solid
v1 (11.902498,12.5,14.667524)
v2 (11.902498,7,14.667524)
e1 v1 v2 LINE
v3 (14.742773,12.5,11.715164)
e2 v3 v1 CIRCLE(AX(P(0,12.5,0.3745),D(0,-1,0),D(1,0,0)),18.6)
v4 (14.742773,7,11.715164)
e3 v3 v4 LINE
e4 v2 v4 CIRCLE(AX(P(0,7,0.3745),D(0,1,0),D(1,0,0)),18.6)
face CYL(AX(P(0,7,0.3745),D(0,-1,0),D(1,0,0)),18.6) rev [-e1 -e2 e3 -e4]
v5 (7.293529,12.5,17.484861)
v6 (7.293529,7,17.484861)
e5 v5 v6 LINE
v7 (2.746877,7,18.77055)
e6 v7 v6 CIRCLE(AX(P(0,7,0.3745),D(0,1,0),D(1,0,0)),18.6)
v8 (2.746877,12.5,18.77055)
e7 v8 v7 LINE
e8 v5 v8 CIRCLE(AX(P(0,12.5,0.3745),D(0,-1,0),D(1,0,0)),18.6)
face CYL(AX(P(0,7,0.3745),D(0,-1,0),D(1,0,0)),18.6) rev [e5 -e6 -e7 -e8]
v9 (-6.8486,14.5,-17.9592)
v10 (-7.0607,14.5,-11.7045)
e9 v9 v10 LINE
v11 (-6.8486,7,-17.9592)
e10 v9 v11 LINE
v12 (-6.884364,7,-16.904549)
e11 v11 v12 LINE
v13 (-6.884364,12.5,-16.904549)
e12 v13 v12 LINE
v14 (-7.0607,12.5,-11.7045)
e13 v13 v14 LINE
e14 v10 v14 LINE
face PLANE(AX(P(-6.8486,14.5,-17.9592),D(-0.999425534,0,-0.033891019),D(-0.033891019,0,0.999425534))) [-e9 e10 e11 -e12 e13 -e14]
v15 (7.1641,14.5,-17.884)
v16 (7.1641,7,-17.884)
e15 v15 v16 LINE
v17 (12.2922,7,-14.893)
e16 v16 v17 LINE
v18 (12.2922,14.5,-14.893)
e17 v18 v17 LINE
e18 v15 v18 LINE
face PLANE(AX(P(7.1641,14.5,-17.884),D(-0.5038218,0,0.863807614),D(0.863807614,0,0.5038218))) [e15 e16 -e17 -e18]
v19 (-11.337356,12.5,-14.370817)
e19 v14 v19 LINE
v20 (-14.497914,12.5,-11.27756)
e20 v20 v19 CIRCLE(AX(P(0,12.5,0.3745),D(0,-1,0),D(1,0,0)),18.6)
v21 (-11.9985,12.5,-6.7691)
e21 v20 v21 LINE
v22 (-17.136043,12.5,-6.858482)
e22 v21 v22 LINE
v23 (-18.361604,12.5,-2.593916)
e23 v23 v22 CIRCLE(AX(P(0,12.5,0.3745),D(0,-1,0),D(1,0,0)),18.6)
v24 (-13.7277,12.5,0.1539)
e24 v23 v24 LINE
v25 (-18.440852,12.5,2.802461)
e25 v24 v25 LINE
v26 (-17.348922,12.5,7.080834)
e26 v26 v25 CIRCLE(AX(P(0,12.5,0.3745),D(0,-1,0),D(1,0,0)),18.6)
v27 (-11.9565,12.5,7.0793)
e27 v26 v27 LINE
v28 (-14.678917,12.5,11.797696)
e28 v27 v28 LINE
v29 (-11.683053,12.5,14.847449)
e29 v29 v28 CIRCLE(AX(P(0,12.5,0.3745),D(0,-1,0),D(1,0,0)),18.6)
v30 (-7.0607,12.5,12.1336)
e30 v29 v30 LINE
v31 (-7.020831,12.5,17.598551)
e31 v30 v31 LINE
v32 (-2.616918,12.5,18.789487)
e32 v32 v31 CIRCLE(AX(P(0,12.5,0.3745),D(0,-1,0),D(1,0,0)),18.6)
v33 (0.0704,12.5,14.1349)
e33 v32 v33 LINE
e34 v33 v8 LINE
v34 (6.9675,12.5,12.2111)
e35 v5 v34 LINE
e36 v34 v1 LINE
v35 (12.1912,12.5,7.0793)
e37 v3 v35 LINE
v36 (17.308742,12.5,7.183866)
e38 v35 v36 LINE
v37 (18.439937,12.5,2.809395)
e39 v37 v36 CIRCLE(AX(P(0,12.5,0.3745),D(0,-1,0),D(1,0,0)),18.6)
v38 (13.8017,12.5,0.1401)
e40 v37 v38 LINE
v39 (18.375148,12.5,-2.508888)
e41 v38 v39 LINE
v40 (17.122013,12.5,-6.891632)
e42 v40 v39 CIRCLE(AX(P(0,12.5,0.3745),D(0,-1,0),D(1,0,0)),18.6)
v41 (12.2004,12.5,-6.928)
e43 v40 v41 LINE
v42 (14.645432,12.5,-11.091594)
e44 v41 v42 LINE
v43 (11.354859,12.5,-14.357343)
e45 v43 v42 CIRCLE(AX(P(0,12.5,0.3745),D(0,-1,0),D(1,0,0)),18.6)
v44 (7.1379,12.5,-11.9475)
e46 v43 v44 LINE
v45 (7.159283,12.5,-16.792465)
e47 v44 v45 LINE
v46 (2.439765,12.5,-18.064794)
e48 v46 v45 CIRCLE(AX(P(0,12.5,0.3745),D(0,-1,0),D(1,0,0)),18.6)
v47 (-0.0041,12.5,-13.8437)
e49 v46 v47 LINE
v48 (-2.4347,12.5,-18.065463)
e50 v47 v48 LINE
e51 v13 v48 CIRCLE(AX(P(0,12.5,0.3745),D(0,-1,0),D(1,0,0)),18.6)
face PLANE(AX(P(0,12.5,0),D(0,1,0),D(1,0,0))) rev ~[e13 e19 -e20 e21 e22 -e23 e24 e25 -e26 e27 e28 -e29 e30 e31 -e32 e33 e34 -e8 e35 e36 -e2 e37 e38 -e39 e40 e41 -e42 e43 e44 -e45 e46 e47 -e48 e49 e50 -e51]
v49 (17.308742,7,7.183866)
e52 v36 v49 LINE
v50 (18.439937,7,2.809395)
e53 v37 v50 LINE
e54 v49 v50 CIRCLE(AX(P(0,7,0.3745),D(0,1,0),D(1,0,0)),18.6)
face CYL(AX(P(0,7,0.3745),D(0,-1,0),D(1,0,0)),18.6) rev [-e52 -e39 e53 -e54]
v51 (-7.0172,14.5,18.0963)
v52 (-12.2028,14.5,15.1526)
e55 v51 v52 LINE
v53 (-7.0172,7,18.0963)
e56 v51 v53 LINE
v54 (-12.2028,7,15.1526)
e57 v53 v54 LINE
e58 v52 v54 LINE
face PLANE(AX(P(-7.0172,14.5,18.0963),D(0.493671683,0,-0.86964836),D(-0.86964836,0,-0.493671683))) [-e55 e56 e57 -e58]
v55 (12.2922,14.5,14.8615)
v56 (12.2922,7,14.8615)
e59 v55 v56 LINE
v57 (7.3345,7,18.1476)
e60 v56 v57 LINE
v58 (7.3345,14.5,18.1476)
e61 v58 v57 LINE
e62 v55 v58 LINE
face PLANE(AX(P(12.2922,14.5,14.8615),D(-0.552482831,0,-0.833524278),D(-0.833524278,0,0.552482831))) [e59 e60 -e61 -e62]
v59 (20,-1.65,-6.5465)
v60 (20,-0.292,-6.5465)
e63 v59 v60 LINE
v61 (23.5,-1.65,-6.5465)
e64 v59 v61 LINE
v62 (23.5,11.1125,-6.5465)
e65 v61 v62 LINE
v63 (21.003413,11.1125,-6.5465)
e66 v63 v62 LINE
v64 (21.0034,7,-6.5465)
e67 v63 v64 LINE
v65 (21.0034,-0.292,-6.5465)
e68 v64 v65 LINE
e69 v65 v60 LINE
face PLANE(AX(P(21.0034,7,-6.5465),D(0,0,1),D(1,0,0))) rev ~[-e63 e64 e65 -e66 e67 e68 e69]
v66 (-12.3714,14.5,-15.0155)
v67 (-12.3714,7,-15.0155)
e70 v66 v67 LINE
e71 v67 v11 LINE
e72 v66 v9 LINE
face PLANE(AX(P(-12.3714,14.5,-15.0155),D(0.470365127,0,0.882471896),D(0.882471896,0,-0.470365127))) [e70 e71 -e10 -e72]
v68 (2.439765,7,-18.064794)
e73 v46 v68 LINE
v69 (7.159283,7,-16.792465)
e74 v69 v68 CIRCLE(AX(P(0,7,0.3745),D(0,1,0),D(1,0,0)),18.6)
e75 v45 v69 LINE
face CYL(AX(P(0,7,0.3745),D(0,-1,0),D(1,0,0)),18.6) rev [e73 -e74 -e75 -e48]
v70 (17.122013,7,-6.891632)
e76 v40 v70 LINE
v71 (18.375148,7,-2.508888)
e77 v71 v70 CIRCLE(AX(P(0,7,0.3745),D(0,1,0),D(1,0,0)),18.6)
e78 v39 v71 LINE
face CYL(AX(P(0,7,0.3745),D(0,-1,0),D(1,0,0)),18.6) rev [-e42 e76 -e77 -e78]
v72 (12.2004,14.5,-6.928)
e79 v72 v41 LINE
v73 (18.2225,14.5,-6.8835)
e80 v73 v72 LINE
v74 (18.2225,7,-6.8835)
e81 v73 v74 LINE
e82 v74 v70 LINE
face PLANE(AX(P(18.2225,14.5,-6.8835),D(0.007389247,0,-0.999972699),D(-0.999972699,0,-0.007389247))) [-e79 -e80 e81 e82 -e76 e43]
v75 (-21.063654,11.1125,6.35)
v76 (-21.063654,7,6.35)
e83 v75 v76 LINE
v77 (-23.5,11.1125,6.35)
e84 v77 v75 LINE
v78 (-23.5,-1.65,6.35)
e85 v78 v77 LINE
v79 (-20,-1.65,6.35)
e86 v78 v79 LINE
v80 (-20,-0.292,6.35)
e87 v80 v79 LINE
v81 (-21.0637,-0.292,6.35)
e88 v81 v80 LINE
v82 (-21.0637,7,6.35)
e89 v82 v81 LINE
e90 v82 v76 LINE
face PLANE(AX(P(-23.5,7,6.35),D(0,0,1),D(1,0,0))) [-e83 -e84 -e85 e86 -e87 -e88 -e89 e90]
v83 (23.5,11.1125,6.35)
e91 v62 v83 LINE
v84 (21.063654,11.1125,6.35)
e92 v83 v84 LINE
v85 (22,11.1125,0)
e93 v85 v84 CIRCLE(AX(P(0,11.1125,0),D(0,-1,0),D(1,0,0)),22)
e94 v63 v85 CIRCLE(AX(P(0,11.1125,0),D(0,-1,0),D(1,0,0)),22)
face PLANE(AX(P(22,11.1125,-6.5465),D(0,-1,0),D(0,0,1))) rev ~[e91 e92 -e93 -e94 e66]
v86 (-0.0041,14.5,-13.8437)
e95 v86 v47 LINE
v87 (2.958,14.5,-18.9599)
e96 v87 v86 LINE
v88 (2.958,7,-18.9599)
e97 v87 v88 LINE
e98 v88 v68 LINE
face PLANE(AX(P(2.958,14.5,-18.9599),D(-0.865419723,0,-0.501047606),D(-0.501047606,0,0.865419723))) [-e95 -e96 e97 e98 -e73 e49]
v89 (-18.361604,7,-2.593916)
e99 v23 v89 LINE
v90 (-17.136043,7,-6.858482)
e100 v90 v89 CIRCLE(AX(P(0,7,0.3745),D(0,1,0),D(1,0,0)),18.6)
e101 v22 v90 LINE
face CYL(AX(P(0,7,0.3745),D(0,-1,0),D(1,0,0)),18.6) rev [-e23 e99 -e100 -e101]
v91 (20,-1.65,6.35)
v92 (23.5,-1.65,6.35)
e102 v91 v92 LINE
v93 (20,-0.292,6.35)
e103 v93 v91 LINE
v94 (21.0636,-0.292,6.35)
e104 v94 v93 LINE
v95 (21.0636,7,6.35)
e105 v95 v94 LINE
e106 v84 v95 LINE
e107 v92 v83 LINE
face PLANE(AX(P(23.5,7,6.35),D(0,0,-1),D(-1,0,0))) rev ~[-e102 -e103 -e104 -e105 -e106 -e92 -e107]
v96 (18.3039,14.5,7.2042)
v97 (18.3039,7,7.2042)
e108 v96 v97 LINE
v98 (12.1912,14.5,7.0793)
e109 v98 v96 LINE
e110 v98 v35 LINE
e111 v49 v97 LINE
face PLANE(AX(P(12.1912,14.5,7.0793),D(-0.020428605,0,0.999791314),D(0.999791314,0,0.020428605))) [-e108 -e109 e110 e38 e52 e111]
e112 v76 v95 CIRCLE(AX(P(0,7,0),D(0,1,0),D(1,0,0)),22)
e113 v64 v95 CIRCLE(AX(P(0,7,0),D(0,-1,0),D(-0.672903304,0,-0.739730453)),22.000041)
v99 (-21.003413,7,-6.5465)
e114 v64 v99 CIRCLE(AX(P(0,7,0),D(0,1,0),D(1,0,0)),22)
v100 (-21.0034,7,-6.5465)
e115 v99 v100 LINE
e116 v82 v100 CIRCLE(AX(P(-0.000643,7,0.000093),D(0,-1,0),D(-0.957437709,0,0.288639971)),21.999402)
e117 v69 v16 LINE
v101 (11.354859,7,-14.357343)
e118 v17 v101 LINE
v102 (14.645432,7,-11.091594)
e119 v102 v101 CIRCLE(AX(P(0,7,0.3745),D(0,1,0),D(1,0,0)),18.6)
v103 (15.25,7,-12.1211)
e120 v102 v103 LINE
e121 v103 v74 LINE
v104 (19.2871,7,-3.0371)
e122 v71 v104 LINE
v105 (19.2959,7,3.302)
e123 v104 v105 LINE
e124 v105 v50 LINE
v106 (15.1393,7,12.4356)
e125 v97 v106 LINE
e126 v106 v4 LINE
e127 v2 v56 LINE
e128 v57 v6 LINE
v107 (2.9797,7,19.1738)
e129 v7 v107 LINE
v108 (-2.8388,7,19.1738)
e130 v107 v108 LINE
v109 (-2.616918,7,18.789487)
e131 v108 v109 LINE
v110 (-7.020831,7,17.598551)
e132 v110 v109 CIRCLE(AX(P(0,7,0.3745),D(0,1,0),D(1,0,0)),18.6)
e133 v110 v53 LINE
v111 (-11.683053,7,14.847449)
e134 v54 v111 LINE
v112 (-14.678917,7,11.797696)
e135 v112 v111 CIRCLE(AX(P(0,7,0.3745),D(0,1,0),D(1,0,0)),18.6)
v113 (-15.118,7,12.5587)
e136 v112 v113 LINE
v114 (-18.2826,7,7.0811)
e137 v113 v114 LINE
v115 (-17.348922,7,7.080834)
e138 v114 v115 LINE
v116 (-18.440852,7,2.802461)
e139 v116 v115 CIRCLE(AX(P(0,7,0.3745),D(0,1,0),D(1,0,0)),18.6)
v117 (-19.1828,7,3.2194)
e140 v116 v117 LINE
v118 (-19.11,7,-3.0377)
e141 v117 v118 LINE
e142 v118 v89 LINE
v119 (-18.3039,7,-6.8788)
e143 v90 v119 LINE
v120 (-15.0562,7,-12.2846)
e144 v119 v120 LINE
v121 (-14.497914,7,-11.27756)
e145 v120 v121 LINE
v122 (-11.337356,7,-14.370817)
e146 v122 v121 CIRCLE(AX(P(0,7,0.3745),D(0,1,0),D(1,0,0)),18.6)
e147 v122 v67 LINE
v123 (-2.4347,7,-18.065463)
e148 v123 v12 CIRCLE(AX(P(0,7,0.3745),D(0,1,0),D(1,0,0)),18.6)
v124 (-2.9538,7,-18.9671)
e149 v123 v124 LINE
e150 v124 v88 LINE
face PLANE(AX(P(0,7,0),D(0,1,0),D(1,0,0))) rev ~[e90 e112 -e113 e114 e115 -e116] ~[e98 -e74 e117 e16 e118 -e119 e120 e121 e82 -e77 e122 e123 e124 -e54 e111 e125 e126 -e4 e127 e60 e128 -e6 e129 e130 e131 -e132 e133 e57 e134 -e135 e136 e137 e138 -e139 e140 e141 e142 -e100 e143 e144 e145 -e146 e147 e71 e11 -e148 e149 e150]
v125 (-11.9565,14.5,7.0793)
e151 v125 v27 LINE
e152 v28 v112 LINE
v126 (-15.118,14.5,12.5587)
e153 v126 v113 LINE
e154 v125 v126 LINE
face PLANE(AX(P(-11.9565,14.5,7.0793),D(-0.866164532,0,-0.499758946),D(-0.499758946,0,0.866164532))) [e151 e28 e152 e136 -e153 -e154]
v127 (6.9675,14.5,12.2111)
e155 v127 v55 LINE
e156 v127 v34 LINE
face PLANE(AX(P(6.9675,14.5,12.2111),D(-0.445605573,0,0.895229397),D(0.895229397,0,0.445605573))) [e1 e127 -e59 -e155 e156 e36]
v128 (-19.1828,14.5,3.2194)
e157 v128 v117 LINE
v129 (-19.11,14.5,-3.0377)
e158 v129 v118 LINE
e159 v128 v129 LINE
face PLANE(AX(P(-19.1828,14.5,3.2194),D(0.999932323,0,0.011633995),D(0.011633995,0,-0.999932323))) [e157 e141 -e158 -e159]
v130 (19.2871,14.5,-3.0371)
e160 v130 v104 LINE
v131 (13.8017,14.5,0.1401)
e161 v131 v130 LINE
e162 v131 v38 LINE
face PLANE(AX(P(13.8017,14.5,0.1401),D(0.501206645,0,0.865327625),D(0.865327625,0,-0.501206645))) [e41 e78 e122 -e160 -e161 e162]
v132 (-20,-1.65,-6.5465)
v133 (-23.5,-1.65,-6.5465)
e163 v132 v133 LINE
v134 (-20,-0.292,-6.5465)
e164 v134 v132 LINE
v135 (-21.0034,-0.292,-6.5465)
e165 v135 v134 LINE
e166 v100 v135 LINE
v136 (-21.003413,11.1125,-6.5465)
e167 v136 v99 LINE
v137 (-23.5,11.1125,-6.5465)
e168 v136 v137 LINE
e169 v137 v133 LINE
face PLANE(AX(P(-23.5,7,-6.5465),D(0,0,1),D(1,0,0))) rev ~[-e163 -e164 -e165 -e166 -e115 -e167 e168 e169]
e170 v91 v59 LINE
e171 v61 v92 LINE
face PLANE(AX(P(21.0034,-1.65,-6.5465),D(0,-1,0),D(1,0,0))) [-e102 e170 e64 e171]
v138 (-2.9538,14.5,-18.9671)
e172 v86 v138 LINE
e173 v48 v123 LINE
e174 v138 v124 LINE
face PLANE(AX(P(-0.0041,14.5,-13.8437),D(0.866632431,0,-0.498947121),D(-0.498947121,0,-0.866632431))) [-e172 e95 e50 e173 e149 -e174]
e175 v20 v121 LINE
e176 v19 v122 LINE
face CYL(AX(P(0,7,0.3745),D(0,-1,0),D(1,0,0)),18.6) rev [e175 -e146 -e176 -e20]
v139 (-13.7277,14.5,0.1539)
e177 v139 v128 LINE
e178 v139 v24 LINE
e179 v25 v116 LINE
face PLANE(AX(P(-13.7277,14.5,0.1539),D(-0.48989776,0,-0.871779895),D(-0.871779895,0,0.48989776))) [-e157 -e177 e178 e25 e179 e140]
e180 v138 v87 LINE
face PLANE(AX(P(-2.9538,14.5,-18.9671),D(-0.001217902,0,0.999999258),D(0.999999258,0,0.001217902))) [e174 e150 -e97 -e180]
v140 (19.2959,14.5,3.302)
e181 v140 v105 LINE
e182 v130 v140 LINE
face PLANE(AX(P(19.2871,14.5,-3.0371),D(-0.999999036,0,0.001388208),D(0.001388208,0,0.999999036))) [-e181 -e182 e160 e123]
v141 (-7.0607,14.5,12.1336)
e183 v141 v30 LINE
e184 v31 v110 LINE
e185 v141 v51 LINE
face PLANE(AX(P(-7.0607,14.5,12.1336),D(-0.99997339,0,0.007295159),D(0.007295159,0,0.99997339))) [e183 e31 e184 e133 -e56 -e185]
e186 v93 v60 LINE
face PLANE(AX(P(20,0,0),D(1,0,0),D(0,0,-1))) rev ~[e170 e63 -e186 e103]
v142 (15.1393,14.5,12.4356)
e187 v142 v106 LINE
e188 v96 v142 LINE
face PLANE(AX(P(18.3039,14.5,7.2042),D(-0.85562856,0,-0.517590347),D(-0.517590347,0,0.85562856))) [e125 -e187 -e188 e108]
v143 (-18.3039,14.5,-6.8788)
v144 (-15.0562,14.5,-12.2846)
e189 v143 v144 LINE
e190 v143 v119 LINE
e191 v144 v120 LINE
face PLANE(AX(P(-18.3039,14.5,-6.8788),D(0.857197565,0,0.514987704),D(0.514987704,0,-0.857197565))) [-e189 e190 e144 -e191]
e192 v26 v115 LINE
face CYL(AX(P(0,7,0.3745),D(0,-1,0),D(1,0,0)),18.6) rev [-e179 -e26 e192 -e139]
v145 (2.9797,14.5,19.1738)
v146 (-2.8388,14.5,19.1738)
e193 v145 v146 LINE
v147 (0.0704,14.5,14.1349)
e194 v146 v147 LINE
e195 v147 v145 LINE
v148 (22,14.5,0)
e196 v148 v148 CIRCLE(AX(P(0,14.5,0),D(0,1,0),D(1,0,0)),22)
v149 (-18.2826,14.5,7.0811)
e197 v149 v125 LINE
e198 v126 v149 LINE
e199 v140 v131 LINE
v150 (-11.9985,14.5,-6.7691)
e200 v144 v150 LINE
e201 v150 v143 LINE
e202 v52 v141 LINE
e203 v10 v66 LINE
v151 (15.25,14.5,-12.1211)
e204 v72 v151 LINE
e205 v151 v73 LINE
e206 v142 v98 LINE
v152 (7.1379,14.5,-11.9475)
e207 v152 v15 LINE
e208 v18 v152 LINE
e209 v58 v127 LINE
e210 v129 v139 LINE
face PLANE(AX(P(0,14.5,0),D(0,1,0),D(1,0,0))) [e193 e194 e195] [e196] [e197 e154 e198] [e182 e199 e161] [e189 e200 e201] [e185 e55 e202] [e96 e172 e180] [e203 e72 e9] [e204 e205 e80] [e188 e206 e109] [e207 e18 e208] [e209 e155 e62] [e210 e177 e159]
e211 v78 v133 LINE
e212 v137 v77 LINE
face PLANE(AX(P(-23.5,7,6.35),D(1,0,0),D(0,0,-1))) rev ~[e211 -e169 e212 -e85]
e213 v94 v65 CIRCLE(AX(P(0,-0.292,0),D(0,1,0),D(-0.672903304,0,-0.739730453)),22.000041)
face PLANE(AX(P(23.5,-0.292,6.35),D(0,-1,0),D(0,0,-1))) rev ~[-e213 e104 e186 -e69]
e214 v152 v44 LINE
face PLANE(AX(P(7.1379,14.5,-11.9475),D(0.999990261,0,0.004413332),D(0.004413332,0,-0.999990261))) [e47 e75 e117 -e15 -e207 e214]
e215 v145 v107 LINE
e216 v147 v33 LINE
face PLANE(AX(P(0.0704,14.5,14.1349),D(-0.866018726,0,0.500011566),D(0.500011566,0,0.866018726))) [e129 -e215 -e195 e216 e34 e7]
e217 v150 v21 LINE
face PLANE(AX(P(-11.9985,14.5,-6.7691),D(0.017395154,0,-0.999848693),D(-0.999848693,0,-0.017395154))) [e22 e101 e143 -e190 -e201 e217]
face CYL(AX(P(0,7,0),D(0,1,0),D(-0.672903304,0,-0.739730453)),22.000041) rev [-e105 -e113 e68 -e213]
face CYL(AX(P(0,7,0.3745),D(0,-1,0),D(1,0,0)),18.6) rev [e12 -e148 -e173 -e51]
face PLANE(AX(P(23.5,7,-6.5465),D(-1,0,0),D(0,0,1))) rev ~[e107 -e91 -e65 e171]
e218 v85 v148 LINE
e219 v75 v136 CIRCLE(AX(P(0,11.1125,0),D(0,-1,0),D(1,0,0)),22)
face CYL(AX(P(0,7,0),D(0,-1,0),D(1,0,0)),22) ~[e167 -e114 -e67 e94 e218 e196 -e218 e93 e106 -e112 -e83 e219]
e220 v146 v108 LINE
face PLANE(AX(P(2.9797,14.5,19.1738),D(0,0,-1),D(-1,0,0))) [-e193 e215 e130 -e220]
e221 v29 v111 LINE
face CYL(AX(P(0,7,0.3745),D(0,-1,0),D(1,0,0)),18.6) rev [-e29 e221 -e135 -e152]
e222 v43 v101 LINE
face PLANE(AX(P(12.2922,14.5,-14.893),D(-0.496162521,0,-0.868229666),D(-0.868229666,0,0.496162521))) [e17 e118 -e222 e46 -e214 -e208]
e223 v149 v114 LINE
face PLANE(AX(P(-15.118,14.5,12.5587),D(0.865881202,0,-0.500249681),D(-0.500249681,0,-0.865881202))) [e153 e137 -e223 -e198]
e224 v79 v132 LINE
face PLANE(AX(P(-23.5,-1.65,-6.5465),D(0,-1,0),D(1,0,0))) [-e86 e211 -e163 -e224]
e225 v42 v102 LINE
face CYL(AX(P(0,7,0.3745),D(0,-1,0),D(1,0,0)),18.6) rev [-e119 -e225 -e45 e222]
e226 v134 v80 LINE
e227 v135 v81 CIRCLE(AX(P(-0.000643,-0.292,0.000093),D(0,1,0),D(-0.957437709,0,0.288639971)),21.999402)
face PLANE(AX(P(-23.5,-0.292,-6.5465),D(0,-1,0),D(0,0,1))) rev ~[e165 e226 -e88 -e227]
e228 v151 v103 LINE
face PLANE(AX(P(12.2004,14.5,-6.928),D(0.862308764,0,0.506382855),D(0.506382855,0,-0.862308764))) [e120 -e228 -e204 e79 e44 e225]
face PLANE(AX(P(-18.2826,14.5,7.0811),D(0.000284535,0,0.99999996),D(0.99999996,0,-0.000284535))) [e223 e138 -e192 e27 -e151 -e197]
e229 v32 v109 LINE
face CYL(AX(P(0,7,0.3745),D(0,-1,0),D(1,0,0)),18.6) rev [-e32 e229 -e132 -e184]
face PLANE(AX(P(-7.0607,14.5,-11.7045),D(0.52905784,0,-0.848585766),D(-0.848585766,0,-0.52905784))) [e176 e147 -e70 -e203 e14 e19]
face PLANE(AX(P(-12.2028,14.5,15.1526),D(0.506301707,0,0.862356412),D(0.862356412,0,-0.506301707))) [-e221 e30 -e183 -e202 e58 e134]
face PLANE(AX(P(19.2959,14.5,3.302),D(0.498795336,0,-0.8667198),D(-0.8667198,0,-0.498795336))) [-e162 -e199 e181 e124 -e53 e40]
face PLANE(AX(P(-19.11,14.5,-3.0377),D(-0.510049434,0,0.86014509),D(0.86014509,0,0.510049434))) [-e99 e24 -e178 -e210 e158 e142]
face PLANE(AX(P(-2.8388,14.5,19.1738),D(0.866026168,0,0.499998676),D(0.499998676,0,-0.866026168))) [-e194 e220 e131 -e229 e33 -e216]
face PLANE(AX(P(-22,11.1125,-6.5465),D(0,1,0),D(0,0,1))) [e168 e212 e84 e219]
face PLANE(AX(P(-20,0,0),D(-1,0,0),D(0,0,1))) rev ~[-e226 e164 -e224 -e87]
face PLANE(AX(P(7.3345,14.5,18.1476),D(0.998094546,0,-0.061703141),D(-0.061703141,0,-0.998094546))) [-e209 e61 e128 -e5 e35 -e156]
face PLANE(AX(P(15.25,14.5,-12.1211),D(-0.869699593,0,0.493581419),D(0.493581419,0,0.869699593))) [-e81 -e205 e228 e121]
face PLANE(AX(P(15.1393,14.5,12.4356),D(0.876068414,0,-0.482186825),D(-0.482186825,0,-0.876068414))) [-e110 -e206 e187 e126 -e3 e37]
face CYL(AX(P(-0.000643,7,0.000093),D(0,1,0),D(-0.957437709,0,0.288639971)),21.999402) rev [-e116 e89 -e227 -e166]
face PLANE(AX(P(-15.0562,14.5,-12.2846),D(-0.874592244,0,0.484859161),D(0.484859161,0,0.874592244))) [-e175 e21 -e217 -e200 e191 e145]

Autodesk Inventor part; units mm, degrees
ref_plane "YZ Plane" through (0, 0, 0) normal (1, 0, 0) x (0, 1, 0)
ref_plane "XZ Plane" through (0, 0, 0) normal (0, 1, 0) x (-1, 0, 0)
ref_plane "XY Plane" through (0, 0, 0) normal (0, 0, 1) x (1, 0, 0)
sketch "Sketch1" plane through (0, 0, 0) normal (0, 1, 0) x (-1, 0, 0)
  circle A0 centre (0, 0) radius 22
  arc A1 (-13.7238, -17.1947) -> (13.7238, -17.1947) centre (0, 0) ccw
  dimension "d0" = 44
  dimension "d11" = 13.7238
ref_plane "Work Plane10" through (0, 7, 0) normal (0, 1, 0) x (1, 0, 0)
sketch "Sketch5" plane through (0, 7, 0) normal (0, 1, 0) x (1, 0, 0)
  circle A0 centre (0, 0) radius 20
  dimension "d8" = 40
ref_plane "Work Plane9" through (0, 0, 0) normal (0, -1, 0) x (1, 0, 0)
sketch "Sketch8" plane through (0, 0, 0) normal (0, -1, 0) x (1, 0, 0)
  arc A0 (-11.5874, -18.7011) -> (11.5874, -18.7011) centre (0, 0) ccw
  line L0 (-15.0453, -16.0511) -> (-15.0453, -22.0257)
  line L1 (15.0453, -16.0511) -> (15.0453, -22.0257)
  arc A1 (-15.0453, -16.0511) -> (15.0453, -16.0511) centre (0, 0) ccw
  arc A2 (-15.0453, -22.0257) -> (-13.0453, -24.0257) centre (-13.0453, -22.0257) ccw
  arc A3 (13.0453, -24.0257) -> (15.0453, -22.0257) centre (13.0453, -22.0257) ccw
  line L2 (-15.0451, -16.0514) -> (-15.0451, -22.026)
  arc A4 (-15.0451, -22.026) -> (-13.0451, -24.026) centre (-13.0451, -22.026) ccw
  arc A5 (13.0456, -24.026) -> (15.0456, -22.026) centre (13.0456, -22.026) ccw
  line L3 (15.0456, -16.0514) -> (15.0456, -22.026)
  arc A6 (-15.0451, -16.0514) -> (15.0456, -16.0514) centre (0.0003, -0.0002) ccw
  arc A7 (13.0456, -24.026) -> (-13.0451, -24.026) centre (0.0003, -66.8475) ccw
  point P0 (0, 0)
  point P1 (0, 0)
ref_plane "Work Plane8" through (0, 0, 0) normal (0, -1, 0) x (1, 0, 0)
sketch "Sketch11" plane through (0, 0, 0) normal (0, -1, 0) x (1, 0, 0)
  arc A0 (11.5874, 18.7011) -> (-11.5874, 18.7011) centre (0, 0) ccw
  line L0 (-15.0453, 16.0511) -> (-15.0453, 22.0257)
  line L1 (15.0453, 16.0511) -> (15.0453, 22.0257)
  arc A1 (15.0453, 16.0511) -> (-15.0453, 16.0511) centre (0, 0) ccw
  arc A2 (-13.0453, 24.0257) -> (-15.0453, 22.0257) centre (-13.0453, 22.0257) ccw
  arc A3 (15.0453, 22.0257) -> (13.0453, 24.0257) centre (13.0453, 22.0257) ccw
  line L2 (-15.0451, 16.0514) -> (-15.0451, 22.026)
  arc A4 (-13.0451, 24.026) -> (-15.0451, 22.026) centre (-13.0451, 22.026) ccw
  arc A5 (15.0456, 22.026) -> (13.0456, 24.026) centre (13.0456, 22.026) ccw
  line L3 (15.0456, 16.0514) -> (15.0456, 22.026)
  arc A6 (15.0456, 16.0514) -> (-15.0451, 16.0514) centre (0.0003, 0.0002) ccw
  arc A7 (-13.0451, 24.026) -> (13.0456, 24.026) centre (0.0003, 66.8475) ccw
  point P0 (0, 0)
  dimension "d27" = 2
  dimension "d28" = 2
ref_plane "Work Plane5" through (14.0456, 0, 22.026) normal (1, 0, 0) x (0, 0, -1)
sketch "Sketch14" plane through (14.0456, 0, 22.026) normal (1, 0, 0) x (0, 0, -1)
  line L0 (0, 0) -> (0, 7) projected
  circle A0 centre (0, 3.5) radius 0.9
  point P0 (22.026, 0)
  dimension "d38" = 1.8
ref_plane "Work Plane6" through (14.0456, 0, 22.026) normal (1, 0, 0) x (0, 0, -1)
sketch "Sketch15" plane through (14.0456, 0, 22.026) normal (1, 0, 0) x (0, 0, -1)
  line L0 (44.1089, 7) -> (44.1089, 0) projected
  circle A0 centre (44.1089, 3.5) radius 0.9
  point P0 (22.026, 0)
  dimension "d41" = 1.8
ref_plane "Work Plane7" through (0, 7, 0) normal (0, 1, 0) x (1, 0, 0)
sketch "Sketch16" plane through (0, 7, 0) normal (0, 1, 0) x (1, 0, 0)
  circle A0 centre (0, 0) radius 22
  circle A1 centre (0, -0.3745) radius 18.6
  dimension "d44" = 37.2
extrude "Extrusion13" add sketch "Sketch16" along normal blind 7.5
ref_plane "Work Plane3" through (22, 0, 0) normal (1, 0, 0) x (0, 1, 0)
sketch "Sketch17" plane through (22, 0, 0) normal (1, 0, 0) x (0, 1, 0)
  line L0 (7, -18.2255) -> (7, 18.9745) projected
  line L1 (11.1125, 6.35) -> (7, 6.35)
  line L2 (7, 6.35) -> (7, -6.5465)
  line L3 (7, -6.5465) -> (11.1125, -6.5465)
  line L4 (11.1125, -6.5465) -> (11.1125, 6.35)
extrude "Extrusion14" add sketch "Sketch17" along normal mid plane 3
ref_plane "Work Plane12" through (21.0034, 7, -6.5465) normal (0, -1, 0) x (1, 0, 0)
sketch "Sketch18" plane through (21.0034, 7, -6.5465) normal (0, -1, 0) x (1, 0, 0)
  arc A0 (-35.8073, -9.7276) -> (-35.8073, 22.8206) centre (-21.0034, 6.5465) ccw projected
  line L0 (0, 0) -> (2.4966, 0) projected
  line L1 (0, 0) -> (2.4966, 0)
  line L2 (2.4966, 12.8965) -> (0.0602, 12.8965) projected
  line L3 (2.4966, 0) -> (2.4966, 12.8965)
  line L4 (2.4966, 12.8965) -> (0.0602, 12.8965)
  arc A1 (0, 0) -> (0.0602, 12.8965) centre (-21.0034, 6.5465) ccw
extrude "Extrusion15" add sketch "Sketch18" along normal blind 8.65
ref_plane "Work Plane4" through (-22, 0, 0) normal (-1, 0, 0) x (0, -1, 0)
sketch "Sketch19" plane through (-22, 0, 0) normal (-1, 0, 0) x (0, -1, 0)
  line L0 (-11.1125, -6.5465) -> (-11.1125, 6.35) projected
  line L1 (-7, -20) -> (-7, 20) projected
  line L2 (-11.1125, -6.5465) -> (-7, -6.5465)
  line L3 (-7, -6.5465) -> (-7, 6.35)
  line L4 (-7, 6.35) -> (-11.1125, 6.35)
  line L5 (-11.1125, 6.35) -> (-11.1125, -6.5465)
  point P0 (0, 0)
extrude "Extrusion16" add sketch "Sketch19" along normal mid plane 3
sketch "Sketch20" plane through (-23.5, 7, -6.5465) normal (0, -1, 0) x (1, 0, 0)
  line L0 (0, 0) -> (2.4966, 0) projected
  line L1 (2.4966, 0) -> (0, 0)
  line L2 (0, 12.8965) -> (0, 0) projected
  line L3 (0, 0) -> (0, 12.8965)
  arc A0 (2.4363, 12.8965) -> (2.4966, 0) centre (23.5, 6.5465) ccw projected
  line L4 (0, 12.8965) -> (2.4363, 12.8965)
  point P0 (3, 0)
extrude "Extrusion17" add sketch "Sketch20" along normal blind 8.65
sketch "Sketch21" plane through (-23.5, 0, 0) normal (-1, 0, 0) x (0, 0, 1)
  line L0 (-6.5465, 11.1125) -> (-6.5465, -1.65) projected
  line L1 (6.35, -1.65) -> (-6.5465, -1.65)
  line L2 (-6.5465, -1.65) -> (-6.5465, -0.292)
  line L3 (-6.5465, -0.292) -> (6.35, -0.292)
  line L4 (6.35, -0.292) -> (6.35, -1.65)
  point P0 (6.35, 0)
extrude "Extrusion18" add sketch "Sketch21" against normal blind 3.5
sketch "Sketch22" plane through (23.5, 0, 0) normal (1, 0, 0) x (0, 0, -1)
  line L0 (-6.35, -0.292) -> (6.5465, -0.292) projected
  line L1 (-6.35, -1.65) -> (6.5465, -1.65) projected
  line L2 (6.5465, -0.292) -> (-6.35, -0.292)
  line L3 (-6.35, -0.292) -> (-6.35, -1.65)
  line L4 (-6.35, -1.65) -> (6.5465, -1.65)
  line L5 (6.5465, -1.65) -> (6.5465, -0.292)
  point P0 (0, 0)
extrude "Extrusion19" add sketch "Sketch22" against normal blind 3.5
ref_plane "Work Plane11" through (0, 14.5, 0) normal (0, 1, 0) x (1, 0, 0)
sketch "Sketch23" plane through (0, 14.5, 0) normal (0, 1, 0) x (1, 0, 0)
  circle A0 centre (0, 0) radius 20
extrude "Extrusion20" add sketch "Sketch23" against normal blind 2
sketch "Sketch24" plane through (0, 14.5, 0) normal (0, 1, 0) x (1, 0, 0)
  line L0 (2.958, 18.9599) -> (-0.0041, 13.8437)
  line L1 (-0.0041, 13.8437) -> (-2.9538, 18.9671)
  line L2 (-2.9538, 18.9671) -> (2.958, 18.9599)
  line L3 (12.2922, 14.893) -> (7.1379, 11.9475)
  line L4 (7.1379, 11.9475) -> (7.1641, 17.884)
  line L5 (7.1641, 17.884) -> (12.2922, 14.893)
  line L6 (18.2225, 6.8835) -> (12.2004, 6.928)
  line L7 (12.2004, 6.928) -> (15.25, 12.1211)
  line L8 (15.25, 12.1211) -> (18.2225, 6.8835)
  line L9 (19.2871, 3.0371) -> (19.2959, -3.302)
  line L10 (19.2959, -3.302) -> (13.8017, -0.1401)
  line L11 (13.8017, -0.1401) -> (19.2871, 3.0371)
  line L12 (18.3039, -7.2042) -> (15.1393, -12.4356)
  line L13 (15.1393, -12.4356) -> (12.1912, -7.0793)
  line L14 (12.1912, -7.0793) -> (18.3039, -7.2042)
  line L15 (12.2922, -14.8615) -> (7.3345, -18.1476)
  line L16 (7.3345, -18.1476) -> (6.9675, -12.2111)
  line L17 (6.9675, -12.2111) -> (12.2922, -14.8615)
  line L18 (0.0704, -14.1349) -> (2.9797, -19.1738)
  line L19 (2.9797, -19.1738) -> (-2.8388, -19.1738)
  line L20 (-2.8388, -19.1738) -> (0.0704, -14.1349)
  line L21 (-7.0607, -12.1336) -> (-7.0172, -18.0963)
  line L22 (-7.0172, -18.0963) -> (-12.2028, -15.1526)
  line L23 (-12.2028, -15.1526) -> (-7.0607, -12.1336)
  line L24 (-11.9565, -7.0793) -> (-15.118, -12.5587)
  line L25 (-15.118, -12.5587) -> (-18.2826, -7.0811)
  line L26 (-18.2826, -7.0811) -> (-11.9565, -7.0793)
  line L27 (-13.7277, -0.1539) -> (-19.1828, -3.2194)
  line L28 (-19.1828, -3.2194) -> (-19.11, 3.0377)
  line L29 (-19.11, 3.0377) -> (-13.7277, -0.1539)
  line L30 (-11.9985, 6.7691) -> (-18.3039, 6.8788)
  line L31 (-18.3039, 6.8788) -> (-15.0562, 12.2846)
  line L32 (-15.0562, 12.2846) -> (-11.9985, 6.7691)
  line L33 (-7.0607, 11.7045) -> (-12.3714, 15.0155)
  line L34 (-12.3714, 15.0155) -> (-6.8486, 17.9592)
  line L35 (-6.8486, 17.9592) -> (-7.0607, 11.7045)
  point P0 (0, 0)
  point P1 (0, 17.2569)
  point P2 (8.8647, 14.9082)
  point P3 (15.2243, 8.6442)
  point P4 (17.4616, -0.135)
  point P5 (15.2115, -8.9064)
  point P6 (8.8647, -15.0734)
  point P7 (0.0704, -17.4941)
  point P8 (-8.7603, -15.1275)
  point P9 (-15.119, -8.9064)
  point P10 (-17.3402, -0.1119)
  point P11 (-15.1196, 8.6442)
  point P12 (-8.7603, 14.893)
extrude "Extrusion21" cut sketch "Sketch24" against normal blind 8
properties part number "watchBodyOneTopV1.1"
